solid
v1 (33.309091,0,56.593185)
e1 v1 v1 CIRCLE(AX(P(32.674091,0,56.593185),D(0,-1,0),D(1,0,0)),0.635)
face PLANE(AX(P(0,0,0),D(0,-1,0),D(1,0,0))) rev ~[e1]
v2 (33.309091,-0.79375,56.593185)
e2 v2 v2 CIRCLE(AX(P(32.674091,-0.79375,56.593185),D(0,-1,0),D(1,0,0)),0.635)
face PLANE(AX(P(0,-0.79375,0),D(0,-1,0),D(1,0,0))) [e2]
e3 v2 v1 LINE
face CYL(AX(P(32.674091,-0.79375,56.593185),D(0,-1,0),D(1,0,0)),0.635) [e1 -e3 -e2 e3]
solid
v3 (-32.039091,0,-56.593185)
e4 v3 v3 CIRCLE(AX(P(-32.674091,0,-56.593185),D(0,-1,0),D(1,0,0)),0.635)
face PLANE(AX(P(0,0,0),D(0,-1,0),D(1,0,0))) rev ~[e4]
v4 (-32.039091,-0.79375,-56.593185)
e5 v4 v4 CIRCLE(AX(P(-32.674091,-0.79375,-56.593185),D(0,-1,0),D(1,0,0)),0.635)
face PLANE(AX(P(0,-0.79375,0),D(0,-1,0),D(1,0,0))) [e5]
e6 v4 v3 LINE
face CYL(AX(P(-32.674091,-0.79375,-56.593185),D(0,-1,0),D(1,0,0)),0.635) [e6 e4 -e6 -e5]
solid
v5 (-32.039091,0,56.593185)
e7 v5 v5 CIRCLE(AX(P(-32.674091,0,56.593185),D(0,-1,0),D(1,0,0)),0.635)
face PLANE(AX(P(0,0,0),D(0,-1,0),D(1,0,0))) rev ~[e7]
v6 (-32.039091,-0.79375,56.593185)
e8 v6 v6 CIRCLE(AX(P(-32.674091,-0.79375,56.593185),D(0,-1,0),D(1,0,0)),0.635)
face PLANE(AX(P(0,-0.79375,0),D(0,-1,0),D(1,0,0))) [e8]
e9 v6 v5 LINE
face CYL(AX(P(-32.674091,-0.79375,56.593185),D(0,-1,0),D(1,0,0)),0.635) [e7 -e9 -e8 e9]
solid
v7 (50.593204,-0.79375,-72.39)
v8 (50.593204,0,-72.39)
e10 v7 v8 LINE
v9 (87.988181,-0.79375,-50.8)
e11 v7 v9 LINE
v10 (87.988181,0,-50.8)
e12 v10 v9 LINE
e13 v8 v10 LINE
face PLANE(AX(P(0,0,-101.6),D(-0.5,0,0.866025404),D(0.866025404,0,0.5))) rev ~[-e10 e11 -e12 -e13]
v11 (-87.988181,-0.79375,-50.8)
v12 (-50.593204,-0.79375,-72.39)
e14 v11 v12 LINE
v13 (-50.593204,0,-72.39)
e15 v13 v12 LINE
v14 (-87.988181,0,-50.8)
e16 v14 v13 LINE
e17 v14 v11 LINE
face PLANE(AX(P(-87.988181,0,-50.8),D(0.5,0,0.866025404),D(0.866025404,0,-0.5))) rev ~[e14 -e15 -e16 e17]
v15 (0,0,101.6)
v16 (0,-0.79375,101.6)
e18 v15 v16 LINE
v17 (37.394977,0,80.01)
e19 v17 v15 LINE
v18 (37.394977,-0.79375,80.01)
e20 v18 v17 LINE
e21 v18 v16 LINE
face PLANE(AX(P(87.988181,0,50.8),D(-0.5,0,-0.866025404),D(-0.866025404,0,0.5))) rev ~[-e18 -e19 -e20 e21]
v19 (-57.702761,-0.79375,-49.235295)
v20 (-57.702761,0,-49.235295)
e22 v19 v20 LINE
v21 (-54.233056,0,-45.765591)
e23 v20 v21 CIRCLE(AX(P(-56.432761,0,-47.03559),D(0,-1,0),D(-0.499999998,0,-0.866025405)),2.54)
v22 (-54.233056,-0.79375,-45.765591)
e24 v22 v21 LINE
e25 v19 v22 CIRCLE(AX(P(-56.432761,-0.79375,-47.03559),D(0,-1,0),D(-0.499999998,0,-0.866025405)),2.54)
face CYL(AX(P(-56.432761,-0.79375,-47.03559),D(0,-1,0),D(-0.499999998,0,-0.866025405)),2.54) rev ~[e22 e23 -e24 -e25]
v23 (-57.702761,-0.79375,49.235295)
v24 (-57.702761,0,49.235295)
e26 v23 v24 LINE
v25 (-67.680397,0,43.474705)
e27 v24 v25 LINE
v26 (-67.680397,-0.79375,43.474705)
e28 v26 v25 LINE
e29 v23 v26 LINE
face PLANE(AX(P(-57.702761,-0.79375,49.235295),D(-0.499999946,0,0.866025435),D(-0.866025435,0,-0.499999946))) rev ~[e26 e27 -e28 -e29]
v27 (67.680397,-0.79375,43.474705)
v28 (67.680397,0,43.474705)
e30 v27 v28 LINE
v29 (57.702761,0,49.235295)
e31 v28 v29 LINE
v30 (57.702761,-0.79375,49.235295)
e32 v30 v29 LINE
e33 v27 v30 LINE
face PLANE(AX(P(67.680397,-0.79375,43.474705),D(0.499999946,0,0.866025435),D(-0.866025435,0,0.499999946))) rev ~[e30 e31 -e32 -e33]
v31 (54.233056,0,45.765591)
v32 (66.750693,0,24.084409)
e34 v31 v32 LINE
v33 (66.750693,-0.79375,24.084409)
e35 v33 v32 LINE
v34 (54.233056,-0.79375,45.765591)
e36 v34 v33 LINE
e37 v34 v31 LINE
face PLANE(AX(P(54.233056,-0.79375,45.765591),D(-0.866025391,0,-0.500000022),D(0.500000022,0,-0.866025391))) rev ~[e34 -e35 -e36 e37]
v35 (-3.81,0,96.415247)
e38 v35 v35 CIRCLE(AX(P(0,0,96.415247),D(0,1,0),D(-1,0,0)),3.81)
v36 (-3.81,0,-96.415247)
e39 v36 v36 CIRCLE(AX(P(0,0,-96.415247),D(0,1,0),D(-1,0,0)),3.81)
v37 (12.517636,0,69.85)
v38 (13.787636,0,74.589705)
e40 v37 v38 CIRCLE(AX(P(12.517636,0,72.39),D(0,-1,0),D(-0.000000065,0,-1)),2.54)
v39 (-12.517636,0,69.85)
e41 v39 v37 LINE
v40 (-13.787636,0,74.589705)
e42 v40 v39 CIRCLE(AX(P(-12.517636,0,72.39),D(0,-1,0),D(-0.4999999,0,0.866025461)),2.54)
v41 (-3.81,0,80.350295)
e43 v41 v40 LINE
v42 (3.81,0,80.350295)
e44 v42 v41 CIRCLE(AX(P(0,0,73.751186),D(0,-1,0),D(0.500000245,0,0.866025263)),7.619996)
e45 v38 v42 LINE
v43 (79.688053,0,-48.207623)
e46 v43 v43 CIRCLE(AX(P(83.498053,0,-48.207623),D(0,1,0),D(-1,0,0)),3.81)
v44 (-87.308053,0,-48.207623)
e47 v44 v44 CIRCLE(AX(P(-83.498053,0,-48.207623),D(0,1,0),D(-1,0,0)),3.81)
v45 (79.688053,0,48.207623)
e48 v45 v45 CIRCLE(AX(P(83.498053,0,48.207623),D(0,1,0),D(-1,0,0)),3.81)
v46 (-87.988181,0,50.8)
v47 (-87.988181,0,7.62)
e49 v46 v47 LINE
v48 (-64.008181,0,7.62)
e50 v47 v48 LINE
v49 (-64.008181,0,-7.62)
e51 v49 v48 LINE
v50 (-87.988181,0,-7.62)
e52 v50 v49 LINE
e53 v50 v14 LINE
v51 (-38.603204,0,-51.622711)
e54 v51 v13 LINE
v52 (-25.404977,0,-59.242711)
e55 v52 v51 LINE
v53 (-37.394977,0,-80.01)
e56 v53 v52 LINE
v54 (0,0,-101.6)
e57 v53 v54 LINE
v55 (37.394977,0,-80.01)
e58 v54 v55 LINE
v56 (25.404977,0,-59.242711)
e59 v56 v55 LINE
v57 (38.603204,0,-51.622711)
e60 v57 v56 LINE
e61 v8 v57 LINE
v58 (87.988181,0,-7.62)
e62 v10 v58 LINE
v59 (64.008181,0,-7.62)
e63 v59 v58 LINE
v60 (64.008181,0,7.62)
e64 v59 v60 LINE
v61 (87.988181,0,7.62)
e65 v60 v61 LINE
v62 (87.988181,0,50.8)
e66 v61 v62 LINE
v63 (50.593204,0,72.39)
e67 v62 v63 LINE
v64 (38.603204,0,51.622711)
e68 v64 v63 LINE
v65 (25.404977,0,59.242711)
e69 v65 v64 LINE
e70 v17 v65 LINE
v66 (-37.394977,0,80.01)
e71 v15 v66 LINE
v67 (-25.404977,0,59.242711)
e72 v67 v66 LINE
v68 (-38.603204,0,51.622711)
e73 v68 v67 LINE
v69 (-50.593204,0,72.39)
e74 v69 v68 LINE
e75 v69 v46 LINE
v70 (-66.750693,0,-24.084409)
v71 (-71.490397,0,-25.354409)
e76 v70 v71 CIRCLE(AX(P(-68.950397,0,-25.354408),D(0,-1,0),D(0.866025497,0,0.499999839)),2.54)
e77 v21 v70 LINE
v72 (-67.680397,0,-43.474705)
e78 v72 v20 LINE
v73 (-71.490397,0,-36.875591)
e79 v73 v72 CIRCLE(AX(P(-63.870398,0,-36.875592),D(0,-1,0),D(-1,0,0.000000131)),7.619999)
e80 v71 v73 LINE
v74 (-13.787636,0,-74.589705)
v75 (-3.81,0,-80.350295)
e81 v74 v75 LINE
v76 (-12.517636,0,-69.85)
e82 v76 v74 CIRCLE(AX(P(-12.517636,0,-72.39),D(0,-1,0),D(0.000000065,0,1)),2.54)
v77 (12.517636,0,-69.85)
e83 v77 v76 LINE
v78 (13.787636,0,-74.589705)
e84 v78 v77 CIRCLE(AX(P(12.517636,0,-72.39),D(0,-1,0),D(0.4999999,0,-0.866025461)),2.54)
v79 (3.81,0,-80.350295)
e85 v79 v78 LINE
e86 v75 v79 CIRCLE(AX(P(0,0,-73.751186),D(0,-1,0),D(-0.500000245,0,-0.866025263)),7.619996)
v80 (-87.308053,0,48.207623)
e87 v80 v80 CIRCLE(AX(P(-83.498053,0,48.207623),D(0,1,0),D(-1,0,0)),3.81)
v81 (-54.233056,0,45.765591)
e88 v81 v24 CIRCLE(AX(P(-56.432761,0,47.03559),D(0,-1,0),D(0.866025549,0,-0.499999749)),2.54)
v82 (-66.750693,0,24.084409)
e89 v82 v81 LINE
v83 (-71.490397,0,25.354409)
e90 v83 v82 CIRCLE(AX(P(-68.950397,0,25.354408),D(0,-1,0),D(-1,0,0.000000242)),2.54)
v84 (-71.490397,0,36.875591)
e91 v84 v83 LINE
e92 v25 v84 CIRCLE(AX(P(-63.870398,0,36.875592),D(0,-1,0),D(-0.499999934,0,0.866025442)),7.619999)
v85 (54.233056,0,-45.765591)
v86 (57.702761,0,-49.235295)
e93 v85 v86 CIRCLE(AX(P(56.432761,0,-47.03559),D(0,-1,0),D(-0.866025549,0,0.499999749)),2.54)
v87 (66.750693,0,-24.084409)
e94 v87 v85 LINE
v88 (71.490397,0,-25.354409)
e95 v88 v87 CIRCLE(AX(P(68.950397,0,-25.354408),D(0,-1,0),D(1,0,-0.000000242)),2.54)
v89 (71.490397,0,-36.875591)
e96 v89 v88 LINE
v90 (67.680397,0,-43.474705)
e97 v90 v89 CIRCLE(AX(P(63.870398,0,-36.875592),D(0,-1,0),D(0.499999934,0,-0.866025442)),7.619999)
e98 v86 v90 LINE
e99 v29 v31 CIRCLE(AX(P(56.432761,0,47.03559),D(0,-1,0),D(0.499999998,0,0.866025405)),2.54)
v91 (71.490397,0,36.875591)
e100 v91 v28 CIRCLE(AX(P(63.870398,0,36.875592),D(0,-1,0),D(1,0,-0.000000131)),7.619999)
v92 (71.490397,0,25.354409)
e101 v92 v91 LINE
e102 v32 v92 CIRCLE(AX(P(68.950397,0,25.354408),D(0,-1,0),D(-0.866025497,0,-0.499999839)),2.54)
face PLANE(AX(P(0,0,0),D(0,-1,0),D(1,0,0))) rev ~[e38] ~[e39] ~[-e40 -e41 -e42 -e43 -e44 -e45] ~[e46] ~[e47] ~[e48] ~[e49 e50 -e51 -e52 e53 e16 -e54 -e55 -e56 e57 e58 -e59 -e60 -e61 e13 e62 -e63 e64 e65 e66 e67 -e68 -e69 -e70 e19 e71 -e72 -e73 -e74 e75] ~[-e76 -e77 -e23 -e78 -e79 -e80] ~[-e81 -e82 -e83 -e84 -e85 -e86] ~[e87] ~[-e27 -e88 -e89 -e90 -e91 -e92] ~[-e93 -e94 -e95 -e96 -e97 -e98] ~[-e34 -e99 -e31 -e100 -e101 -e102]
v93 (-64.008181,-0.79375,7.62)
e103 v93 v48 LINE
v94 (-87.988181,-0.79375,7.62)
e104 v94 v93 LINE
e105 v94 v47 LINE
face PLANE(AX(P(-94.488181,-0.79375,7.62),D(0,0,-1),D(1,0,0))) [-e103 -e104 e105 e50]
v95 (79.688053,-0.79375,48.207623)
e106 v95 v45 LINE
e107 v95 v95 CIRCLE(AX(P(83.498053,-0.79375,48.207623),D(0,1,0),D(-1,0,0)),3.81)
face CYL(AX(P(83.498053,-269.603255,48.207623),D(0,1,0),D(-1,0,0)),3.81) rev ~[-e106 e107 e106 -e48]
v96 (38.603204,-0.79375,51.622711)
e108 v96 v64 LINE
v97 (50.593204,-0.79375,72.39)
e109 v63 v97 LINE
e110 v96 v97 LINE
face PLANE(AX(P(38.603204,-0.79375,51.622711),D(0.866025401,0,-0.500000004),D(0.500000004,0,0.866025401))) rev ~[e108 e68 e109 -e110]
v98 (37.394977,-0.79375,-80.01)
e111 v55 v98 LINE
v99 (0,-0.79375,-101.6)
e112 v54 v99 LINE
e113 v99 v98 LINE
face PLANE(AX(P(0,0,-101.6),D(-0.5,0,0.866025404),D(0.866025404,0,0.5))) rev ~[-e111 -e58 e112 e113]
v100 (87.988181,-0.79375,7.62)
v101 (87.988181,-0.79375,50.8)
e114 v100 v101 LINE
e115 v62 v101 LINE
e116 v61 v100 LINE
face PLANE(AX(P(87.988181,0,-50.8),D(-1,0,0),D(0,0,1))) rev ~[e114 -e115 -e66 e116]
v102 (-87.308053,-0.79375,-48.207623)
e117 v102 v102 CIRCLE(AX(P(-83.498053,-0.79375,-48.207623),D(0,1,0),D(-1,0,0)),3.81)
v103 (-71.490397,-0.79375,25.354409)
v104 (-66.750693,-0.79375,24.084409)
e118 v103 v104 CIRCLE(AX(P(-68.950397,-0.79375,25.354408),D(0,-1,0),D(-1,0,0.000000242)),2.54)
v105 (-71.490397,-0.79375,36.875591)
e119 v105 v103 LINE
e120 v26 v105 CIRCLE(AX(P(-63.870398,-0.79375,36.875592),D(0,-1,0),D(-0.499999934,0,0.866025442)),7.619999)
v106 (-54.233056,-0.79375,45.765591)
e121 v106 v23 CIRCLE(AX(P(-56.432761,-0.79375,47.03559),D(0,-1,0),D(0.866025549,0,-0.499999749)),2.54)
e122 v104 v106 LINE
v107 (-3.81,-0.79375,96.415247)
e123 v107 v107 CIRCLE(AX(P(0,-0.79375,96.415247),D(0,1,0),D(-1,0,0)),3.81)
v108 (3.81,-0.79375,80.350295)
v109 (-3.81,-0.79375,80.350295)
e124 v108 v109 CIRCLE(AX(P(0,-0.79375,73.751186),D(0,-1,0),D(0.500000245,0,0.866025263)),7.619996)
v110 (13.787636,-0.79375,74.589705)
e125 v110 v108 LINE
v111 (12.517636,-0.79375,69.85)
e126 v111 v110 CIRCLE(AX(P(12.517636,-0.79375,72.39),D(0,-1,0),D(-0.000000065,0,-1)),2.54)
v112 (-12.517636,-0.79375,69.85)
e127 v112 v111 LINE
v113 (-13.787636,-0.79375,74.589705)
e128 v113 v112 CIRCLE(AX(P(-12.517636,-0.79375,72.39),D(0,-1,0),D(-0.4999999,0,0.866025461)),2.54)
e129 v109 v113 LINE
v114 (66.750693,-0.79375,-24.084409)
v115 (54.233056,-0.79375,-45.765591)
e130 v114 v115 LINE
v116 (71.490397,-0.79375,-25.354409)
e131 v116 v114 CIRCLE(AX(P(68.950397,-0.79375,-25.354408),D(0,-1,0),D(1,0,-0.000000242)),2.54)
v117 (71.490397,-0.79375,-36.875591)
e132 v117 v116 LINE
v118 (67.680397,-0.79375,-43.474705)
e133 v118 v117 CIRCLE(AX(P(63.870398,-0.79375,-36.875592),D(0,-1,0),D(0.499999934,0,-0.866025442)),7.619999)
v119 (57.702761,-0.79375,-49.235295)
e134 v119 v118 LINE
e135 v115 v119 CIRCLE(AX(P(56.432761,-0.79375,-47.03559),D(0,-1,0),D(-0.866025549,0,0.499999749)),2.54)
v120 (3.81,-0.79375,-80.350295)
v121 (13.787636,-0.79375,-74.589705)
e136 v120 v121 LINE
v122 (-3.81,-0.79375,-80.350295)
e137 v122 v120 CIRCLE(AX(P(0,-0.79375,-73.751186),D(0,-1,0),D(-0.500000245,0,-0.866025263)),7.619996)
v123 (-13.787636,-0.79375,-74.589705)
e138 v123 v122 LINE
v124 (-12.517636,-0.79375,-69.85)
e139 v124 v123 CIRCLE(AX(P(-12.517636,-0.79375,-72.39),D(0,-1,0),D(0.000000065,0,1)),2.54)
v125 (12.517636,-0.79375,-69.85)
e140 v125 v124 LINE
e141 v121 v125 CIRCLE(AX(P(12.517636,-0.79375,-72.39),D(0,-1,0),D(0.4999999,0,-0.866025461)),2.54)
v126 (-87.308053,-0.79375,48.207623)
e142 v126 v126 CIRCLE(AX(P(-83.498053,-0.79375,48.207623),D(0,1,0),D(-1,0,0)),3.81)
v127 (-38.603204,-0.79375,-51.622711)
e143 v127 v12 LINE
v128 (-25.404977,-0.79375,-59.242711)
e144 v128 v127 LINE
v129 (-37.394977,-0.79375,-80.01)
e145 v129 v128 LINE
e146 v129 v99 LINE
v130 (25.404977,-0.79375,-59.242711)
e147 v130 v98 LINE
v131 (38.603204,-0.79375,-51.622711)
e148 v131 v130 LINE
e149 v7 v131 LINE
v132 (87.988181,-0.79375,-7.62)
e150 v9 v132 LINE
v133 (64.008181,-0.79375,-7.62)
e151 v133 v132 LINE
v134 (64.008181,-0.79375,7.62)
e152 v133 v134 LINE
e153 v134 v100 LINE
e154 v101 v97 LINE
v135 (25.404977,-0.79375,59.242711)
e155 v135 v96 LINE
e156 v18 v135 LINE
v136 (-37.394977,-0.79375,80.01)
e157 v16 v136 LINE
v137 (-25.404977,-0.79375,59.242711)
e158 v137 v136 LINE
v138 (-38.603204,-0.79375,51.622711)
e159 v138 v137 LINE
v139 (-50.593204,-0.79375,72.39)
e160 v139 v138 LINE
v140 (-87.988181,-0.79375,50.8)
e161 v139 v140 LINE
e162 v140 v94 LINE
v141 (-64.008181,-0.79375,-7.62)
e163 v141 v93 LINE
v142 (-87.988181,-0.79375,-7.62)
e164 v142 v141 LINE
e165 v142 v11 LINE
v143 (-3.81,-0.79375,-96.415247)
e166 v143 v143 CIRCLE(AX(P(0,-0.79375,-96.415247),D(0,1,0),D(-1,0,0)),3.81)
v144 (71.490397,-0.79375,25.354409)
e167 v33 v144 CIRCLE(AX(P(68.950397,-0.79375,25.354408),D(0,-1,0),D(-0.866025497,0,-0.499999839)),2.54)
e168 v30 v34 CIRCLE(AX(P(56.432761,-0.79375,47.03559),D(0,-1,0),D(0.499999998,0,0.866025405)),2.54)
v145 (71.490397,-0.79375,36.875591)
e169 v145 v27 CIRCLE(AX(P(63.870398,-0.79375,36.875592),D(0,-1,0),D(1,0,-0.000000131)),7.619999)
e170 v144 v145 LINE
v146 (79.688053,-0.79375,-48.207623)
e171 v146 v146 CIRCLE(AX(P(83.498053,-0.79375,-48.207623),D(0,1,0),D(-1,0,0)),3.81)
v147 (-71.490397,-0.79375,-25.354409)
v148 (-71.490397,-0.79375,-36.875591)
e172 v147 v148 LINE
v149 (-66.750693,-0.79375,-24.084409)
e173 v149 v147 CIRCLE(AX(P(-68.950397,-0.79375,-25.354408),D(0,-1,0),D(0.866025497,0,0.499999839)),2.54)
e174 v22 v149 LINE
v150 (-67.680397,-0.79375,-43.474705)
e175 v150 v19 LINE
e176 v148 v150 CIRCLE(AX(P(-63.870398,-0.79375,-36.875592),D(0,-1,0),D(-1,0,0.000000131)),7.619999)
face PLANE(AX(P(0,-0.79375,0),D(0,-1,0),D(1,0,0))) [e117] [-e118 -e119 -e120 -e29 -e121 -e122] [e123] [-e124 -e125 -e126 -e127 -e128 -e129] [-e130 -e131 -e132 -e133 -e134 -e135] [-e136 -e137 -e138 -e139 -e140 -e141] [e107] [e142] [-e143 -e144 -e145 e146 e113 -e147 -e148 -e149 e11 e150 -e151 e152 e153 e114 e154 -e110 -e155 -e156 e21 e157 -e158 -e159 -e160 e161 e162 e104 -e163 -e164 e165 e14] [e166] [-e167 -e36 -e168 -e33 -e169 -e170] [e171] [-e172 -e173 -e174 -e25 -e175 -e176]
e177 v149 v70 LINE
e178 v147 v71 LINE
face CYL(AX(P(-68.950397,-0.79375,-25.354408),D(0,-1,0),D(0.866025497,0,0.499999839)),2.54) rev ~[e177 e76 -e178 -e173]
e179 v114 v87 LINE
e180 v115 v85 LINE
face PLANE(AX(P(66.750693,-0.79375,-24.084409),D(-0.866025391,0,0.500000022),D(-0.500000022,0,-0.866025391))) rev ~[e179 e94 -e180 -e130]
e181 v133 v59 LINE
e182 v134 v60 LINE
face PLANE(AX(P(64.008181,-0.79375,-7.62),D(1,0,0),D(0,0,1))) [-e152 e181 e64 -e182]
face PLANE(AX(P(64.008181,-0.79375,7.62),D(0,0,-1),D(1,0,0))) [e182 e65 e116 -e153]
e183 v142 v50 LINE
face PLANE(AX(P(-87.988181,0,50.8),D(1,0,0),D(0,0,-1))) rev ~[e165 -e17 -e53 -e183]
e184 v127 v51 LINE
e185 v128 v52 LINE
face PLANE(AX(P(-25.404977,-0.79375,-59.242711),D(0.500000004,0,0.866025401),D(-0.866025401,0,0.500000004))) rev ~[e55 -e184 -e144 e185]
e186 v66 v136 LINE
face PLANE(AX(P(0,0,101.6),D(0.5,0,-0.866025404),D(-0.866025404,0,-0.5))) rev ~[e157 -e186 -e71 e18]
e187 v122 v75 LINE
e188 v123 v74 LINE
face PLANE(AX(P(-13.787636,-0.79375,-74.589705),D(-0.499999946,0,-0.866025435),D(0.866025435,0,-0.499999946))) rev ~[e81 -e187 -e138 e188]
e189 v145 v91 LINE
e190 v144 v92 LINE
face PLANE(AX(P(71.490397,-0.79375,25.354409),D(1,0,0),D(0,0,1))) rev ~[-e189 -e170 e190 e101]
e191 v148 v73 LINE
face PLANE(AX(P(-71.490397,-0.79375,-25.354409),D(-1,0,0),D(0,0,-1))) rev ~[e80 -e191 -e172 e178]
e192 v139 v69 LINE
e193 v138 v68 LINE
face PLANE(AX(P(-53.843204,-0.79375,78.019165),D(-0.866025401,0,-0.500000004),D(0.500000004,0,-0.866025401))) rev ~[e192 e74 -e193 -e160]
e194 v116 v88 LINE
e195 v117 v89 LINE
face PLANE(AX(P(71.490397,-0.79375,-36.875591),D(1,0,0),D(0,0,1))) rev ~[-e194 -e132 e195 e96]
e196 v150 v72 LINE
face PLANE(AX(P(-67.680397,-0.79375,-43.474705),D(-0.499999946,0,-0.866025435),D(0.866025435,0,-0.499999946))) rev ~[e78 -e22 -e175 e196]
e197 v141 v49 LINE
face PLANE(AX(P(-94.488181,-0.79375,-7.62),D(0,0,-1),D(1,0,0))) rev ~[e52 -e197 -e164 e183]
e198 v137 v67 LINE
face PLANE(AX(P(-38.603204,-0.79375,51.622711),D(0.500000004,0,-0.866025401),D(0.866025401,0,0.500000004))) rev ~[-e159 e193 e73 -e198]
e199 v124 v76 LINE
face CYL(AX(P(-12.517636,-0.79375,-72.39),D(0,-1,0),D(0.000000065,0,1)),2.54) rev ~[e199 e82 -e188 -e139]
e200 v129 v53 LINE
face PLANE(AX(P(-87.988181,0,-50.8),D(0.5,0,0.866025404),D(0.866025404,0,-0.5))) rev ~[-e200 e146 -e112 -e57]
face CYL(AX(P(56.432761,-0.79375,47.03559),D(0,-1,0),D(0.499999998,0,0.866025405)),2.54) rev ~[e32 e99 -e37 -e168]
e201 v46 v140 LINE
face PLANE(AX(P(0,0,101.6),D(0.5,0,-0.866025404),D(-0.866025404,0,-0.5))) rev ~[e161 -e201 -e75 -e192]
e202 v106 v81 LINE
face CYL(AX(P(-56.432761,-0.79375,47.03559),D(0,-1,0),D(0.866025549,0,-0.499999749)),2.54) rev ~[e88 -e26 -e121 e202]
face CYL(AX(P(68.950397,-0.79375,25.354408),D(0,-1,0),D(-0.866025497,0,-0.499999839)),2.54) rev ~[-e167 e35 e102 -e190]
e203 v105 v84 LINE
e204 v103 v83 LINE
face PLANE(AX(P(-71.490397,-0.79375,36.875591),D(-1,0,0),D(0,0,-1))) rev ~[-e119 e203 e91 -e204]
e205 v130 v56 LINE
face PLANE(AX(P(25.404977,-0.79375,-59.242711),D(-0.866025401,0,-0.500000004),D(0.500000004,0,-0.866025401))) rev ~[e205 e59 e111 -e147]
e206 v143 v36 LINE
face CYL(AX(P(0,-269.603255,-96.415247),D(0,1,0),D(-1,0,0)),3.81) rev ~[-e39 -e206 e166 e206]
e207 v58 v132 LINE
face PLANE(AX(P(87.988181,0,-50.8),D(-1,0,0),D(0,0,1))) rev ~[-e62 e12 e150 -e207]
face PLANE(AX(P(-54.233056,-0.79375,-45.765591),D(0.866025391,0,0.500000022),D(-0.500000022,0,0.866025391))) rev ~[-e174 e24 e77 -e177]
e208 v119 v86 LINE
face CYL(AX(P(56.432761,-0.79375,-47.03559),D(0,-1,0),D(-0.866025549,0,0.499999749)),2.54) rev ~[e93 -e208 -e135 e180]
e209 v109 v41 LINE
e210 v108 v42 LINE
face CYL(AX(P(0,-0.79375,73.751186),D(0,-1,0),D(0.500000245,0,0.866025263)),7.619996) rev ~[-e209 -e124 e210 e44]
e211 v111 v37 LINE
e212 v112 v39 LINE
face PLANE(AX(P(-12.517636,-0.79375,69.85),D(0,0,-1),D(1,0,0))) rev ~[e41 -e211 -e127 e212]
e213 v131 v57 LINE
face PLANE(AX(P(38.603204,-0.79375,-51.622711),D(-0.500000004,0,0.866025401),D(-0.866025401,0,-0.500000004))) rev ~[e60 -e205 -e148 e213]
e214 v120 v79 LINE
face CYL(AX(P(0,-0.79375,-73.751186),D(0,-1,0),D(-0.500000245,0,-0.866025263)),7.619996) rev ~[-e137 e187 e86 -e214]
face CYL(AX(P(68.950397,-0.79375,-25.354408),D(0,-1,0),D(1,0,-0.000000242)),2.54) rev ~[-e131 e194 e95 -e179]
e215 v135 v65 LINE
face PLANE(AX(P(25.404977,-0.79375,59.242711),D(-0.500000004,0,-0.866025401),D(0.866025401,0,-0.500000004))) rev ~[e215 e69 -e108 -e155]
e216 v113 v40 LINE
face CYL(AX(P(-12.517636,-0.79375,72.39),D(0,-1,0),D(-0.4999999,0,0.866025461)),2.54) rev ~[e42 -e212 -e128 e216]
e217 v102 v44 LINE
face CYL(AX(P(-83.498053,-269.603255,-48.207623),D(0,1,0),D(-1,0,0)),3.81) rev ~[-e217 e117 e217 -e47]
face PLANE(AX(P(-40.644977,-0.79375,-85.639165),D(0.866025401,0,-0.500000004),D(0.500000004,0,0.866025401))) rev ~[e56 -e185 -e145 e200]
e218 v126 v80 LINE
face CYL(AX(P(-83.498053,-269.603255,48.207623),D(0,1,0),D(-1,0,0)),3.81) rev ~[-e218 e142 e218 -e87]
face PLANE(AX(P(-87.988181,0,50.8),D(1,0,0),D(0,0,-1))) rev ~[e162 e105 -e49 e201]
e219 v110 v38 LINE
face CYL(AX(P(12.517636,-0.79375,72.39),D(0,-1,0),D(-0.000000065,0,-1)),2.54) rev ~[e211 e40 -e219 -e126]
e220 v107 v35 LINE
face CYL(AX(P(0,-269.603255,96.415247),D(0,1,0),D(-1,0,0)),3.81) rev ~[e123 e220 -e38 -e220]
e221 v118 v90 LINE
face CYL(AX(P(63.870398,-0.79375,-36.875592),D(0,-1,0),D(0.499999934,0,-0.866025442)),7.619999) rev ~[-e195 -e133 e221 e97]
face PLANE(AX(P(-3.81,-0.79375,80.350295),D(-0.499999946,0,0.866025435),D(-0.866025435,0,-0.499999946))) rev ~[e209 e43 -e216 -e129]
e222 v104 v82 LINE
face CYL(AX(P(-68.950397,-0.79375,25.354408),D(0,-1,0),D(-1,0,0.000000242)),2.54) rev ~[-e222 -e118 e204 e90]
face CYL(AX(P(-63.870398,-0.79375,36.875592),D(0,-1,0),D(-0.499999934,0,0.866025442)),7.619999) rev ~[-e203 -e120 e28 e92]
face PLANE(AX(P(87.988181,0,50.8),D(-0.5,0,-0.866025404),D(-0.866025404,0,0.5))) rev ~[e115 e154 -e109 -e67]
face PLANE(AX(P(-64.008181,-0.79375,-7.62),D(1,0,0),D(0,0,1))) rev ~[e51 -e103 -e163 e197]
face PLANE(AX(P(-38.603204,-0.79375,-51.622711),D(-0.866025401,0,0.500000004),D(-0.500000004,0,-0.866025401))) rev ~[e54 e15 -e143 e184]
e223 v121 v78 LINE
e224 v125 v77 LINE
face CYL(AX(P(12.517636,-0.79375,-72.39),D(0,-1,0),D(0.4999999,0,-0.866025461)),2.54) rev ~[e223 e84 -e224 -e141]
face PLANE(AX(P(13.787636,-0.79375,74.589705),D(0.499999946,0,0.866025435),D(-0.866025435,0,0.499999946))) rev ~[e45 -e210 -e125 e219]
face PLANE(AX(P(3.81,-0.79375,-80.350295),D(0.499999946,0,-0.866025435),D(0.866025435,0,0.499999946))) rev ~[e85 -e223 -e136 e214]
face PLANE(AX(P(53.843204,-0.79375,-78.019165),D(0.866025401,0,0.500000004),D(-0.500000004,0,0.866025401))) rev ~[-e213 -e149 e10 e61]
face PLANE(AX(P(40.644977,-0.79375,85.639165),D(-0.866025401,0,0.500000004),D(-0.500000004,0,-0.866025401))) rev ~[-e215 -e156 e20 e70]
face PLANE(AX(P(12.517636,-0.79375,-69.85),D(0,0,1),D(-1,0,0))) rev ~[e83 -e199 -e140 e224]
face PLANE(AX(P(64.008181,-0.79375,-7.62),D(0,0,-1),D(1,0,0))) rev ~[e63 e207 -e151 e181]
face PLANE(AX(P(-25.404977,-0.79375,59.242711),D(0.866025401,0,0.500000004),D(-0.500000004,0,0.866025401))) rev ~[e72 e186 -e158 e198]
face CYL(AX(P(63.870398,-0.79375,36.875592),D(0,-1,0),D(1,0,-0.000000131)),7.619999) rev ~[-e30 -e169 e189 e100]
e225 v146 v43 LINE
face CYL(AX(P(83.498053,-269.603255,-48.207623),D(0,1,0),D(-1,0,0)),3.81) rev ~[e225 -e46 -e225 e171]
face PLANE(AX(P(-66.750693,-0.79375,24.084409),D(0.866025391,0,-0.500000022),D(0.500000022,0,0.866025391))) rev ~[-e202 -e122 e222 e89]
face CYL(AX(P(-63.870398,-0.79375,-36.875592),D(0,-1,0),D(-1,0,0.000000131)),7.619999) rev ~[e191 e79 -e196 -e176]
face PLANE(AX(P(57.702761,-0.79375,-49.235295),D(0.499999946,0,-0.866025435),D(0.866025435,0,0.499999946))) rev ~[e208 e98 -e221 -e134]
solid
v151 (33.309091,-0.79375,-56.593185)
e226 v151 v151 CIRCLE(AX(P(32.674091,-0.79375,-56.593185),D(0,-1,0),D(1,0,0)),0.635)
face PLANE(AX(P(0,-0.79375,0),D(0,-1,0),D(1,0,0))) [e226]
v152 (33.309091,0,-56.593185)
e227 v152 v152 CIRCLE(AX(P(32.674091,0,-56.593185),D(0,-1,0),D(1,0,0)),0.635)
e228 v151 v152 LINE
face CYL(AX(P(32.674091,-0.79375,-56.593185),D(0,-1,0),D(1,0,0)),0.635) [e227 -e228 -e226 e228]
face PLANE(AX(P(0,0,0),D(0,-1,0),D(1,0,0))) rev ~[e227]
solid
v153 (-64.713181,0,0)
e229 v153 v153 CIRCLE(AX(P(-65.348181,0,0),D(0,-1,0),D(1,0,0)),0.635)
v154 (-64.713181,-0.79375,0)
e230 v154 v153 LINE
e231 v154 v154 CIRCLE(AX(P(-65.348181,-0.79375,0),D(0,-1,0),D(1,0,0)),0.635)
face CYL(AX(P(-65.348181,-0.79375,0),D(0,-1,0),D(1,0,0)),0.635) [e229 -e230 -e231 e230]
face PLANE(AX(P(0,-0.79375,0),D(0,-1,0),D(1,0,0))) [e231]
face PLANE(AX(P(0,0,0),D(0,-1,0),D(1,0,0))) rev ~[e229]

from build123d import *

# Parameters (mm, degrees)
F1_DEPTH  = 0.79375
F4_W      = 30.48
F4_H      = 15.24
F4_R      = 0.635
F5_DEPTH  = 0.79475
F7_D      = 7.62
F10_DEPTH = 0.79475


with BuildPart() as f1:
    # F0 (on Front) → F1 (new body)
    with BuildSketch(Plane.XZ):
        Polygon((87.988181, 50.8), (0, 101.6), (-87.988181, 50.8), (-87.988181, -50.8), (0, -101.6), (87.988181, -50.8), align=None)
    extrude(amount=F1_DEPTH)

    # F4 (on face) → F5 (cut, through all)
    with BuildSketch(Plane.XZ.offset(0.79375)):
        with Locations((79.248181, 0)):
            Rectangle(F4_W, F4_H)
        Polygon((25.404977, 59.242711), (38.603204, 51.622711), (53.843204, 78.019165), (40.644977, 85.639165), align=None)
        with Locations((32.674091, 56.593185)):
            Circle(F4_R, mode=Mode.SUBTRACT)
        with Locations((46.574091, 80.668691)):
            Circle(F4_R, mode=Mode.SUBTRACT)
        Polygon((-38.603204, 51.622711), (-25.404977, 59.242711), (-40.644977, 85.639165), (-53.843204, 78.019165), align=None)
        with Locations((-32.674091, 56.593185)):
            Circle(F4_R, mode=Mode.SUBTRACT)
        with Locations((-46.574091, 80.668691)):
            Circle(F4_R, mode=Mode.SUBTRACT)
        with Locations((-79.248181, 0)):
            Rectangle(F4_W, F4_H)
        with Locations((-93.148181, 0)):
            Circle(F4_R, mode=Mode.SUBTRACT)
        with Locations((-65.348181, 0)):
            Circle(F4_R, mode=Mode.SUBTRACT)
        Polygon((-25.404977, -59.242711), (-38.603204, -51.622711), (-53.843204, -78.019165), (-40.644977, -85.639165), align=None)
        with Locations((-46.574091, -80.668691)):
            Circle(F4_R, mode=Mode.SUBTRACT)
        with Locations((-32.674091, -56.593185)):
            Circle(F4_R, mode=Mode.SUBTRACT)
        Polygon((38.603204, -51.622711), (25.404977, -59.242711), (40.644977, -85.639165), (53.843204, -78.019165), align=None)
        with Locations((46.574091, -80.668691)):
            Circle(F4_R, mode=Mode.SUBTRACT)
        with Locations((32.674091, -56.593185)):
            Circle(F4_R, mode=Mode.SUBTRACT)
    extrude(amount=-F5_DEPTH, mode=Mode.SUBTRACT)

    # F7 (through all)
    with Locations(Plane.XZ.offset(0.79375)):
        with Locations((83.498053, -48.207623), (0, -96.415247), (-83.498053, -48.207623), (-83.498053, 48.207623), (0, 96.415247), (83.498053, 48.207623)):
            Hole(F7_D / 2)

    # F9 (on face) → F10 (cut, through all)
    with BuildSketch(Plane.XZ.offset(0.79375)):
        with BuildLine():
            ThreePointArc((-13.787636, 74.589705), (-14.971088, 71.7326), (-12.517636, 69.85))
            Line((-12.517636, 69.85), (12.517636, 69.85))
            ThreePointArc((12.517636, 69.85), (14.971088, 71.7326), (13.787636, 74.589705))
            Line((13.787636, 74.589705), (3.81, 80.350295))
            ThreePointArc((3.81, 80.350295), (0, 81.371182), (-3.81, 80.350295))
            Line((-3.81, 80.350295), (-13.787636, 74.589705))
        make_face()
        with BuildLine():
            ThreePointArc((-54.233056, 45.765591), (-54.63671, 48.831642), (-57.702761, 49.235295))
            Line((-57.702761, 49.235295), (-67.680397, 43.474705))
            ThreePointArc((-67.680397, 43.474705), (-70.469511, 40.685591), (-71.490397, 36.875591))
            Line((-71.490397, 36.875591), (-71.490397, 25.354409))
            ThreePointArc((-71.490397, 25.354409), (-69.607797, 22.900957), (-66.750693, 24.084409))
            Line((-66.750693, 24.084409), (-54.233056, 45.765591))
        make_face()
        with BuildLine():
            ThreePointArc((-66.750693, -24.084409), (-69.607797, -22.900957), (-71.490397, -25.354409))
            Line((-71.490397, -25.354409), (-71.490397, -36.875591))
            ThreePointArc((-71.490397, -36.875591), (-70.469511, -40.685591), (-67.680397, -43.474705))
            Line((-67.680397, -43.474705), (-57.702761, -49.235295))
            ThreePointArc((-57.702761, -49.235295), (-54.63671, -48.831642), (-54.233056, -45.765591))
            Line((-54.233056, -45.765591), (-66.750693, -24.084409))
        make_face()
        with BuildLine():
            ThreePointArc((-12.517636, -69.85), (-14.971088, -71.7326), (-13.787636, -74.589705))
            Line((-13.787636, -74.589705), (-3.81, -80.350295))
            ThreePointArc((-3.81, -80.350295), (0, -81.371182), (3.81, -80.350295))
            Line((3.81, -80.350295), (13.787636, -74.589705))
            ThreePointArc((13.787636, -74.589705), (14.971088, -71.7326), (12.517636, -69.85))
            Line((12.517636, -69.85), (-12.517636, -69.85))
        make_face()
        with BuildLine():
            ThreePointArc((54.233056, -45.765591), (54.63671, -48.831642), (57.702761, -49.235295))
            Line((57.702761, -49.235295), (67.680397, -43.474705))
            ThreePointArc((67.680397, -43.474705), (70.469511, -40.685591), (71.490397, -36.875591))
            Line((71.490397, -36.875591), (71.490397, -25.354409))
            ThreePointArc((71.490397, -25.354409), (69.607797, -22.900957), (66.750693, -24.084409))
            Line((66.750693, -24.084409), (54.233056, -45.765591))
        make_face()
        with BuildLine():
            ThreePointArc((66.750693, 24.084409), (69.607797, 22.900957), (71.490397, 25.354409))
            Line((71.490397, 25.354409), (71.490397, 36.875591))
            ThreePointArc((71.490397, 36.875591), (70.469511, 40.685591), (67.680397, 43.474705))
            Line((67.680397, 43.474705), (57.702761, 49.235295))
            ThreePointArc((57.702761, 49.235295), (54.63671, 48.831642), (54.233056, 45.765591))
            Line((54.233056, 45.765591), (66.750693, 24.084409))
        make_face()
    extrude(amount=-F10_DEPTH, mode=Mode.SUBTRACT)


solid = f1.part
